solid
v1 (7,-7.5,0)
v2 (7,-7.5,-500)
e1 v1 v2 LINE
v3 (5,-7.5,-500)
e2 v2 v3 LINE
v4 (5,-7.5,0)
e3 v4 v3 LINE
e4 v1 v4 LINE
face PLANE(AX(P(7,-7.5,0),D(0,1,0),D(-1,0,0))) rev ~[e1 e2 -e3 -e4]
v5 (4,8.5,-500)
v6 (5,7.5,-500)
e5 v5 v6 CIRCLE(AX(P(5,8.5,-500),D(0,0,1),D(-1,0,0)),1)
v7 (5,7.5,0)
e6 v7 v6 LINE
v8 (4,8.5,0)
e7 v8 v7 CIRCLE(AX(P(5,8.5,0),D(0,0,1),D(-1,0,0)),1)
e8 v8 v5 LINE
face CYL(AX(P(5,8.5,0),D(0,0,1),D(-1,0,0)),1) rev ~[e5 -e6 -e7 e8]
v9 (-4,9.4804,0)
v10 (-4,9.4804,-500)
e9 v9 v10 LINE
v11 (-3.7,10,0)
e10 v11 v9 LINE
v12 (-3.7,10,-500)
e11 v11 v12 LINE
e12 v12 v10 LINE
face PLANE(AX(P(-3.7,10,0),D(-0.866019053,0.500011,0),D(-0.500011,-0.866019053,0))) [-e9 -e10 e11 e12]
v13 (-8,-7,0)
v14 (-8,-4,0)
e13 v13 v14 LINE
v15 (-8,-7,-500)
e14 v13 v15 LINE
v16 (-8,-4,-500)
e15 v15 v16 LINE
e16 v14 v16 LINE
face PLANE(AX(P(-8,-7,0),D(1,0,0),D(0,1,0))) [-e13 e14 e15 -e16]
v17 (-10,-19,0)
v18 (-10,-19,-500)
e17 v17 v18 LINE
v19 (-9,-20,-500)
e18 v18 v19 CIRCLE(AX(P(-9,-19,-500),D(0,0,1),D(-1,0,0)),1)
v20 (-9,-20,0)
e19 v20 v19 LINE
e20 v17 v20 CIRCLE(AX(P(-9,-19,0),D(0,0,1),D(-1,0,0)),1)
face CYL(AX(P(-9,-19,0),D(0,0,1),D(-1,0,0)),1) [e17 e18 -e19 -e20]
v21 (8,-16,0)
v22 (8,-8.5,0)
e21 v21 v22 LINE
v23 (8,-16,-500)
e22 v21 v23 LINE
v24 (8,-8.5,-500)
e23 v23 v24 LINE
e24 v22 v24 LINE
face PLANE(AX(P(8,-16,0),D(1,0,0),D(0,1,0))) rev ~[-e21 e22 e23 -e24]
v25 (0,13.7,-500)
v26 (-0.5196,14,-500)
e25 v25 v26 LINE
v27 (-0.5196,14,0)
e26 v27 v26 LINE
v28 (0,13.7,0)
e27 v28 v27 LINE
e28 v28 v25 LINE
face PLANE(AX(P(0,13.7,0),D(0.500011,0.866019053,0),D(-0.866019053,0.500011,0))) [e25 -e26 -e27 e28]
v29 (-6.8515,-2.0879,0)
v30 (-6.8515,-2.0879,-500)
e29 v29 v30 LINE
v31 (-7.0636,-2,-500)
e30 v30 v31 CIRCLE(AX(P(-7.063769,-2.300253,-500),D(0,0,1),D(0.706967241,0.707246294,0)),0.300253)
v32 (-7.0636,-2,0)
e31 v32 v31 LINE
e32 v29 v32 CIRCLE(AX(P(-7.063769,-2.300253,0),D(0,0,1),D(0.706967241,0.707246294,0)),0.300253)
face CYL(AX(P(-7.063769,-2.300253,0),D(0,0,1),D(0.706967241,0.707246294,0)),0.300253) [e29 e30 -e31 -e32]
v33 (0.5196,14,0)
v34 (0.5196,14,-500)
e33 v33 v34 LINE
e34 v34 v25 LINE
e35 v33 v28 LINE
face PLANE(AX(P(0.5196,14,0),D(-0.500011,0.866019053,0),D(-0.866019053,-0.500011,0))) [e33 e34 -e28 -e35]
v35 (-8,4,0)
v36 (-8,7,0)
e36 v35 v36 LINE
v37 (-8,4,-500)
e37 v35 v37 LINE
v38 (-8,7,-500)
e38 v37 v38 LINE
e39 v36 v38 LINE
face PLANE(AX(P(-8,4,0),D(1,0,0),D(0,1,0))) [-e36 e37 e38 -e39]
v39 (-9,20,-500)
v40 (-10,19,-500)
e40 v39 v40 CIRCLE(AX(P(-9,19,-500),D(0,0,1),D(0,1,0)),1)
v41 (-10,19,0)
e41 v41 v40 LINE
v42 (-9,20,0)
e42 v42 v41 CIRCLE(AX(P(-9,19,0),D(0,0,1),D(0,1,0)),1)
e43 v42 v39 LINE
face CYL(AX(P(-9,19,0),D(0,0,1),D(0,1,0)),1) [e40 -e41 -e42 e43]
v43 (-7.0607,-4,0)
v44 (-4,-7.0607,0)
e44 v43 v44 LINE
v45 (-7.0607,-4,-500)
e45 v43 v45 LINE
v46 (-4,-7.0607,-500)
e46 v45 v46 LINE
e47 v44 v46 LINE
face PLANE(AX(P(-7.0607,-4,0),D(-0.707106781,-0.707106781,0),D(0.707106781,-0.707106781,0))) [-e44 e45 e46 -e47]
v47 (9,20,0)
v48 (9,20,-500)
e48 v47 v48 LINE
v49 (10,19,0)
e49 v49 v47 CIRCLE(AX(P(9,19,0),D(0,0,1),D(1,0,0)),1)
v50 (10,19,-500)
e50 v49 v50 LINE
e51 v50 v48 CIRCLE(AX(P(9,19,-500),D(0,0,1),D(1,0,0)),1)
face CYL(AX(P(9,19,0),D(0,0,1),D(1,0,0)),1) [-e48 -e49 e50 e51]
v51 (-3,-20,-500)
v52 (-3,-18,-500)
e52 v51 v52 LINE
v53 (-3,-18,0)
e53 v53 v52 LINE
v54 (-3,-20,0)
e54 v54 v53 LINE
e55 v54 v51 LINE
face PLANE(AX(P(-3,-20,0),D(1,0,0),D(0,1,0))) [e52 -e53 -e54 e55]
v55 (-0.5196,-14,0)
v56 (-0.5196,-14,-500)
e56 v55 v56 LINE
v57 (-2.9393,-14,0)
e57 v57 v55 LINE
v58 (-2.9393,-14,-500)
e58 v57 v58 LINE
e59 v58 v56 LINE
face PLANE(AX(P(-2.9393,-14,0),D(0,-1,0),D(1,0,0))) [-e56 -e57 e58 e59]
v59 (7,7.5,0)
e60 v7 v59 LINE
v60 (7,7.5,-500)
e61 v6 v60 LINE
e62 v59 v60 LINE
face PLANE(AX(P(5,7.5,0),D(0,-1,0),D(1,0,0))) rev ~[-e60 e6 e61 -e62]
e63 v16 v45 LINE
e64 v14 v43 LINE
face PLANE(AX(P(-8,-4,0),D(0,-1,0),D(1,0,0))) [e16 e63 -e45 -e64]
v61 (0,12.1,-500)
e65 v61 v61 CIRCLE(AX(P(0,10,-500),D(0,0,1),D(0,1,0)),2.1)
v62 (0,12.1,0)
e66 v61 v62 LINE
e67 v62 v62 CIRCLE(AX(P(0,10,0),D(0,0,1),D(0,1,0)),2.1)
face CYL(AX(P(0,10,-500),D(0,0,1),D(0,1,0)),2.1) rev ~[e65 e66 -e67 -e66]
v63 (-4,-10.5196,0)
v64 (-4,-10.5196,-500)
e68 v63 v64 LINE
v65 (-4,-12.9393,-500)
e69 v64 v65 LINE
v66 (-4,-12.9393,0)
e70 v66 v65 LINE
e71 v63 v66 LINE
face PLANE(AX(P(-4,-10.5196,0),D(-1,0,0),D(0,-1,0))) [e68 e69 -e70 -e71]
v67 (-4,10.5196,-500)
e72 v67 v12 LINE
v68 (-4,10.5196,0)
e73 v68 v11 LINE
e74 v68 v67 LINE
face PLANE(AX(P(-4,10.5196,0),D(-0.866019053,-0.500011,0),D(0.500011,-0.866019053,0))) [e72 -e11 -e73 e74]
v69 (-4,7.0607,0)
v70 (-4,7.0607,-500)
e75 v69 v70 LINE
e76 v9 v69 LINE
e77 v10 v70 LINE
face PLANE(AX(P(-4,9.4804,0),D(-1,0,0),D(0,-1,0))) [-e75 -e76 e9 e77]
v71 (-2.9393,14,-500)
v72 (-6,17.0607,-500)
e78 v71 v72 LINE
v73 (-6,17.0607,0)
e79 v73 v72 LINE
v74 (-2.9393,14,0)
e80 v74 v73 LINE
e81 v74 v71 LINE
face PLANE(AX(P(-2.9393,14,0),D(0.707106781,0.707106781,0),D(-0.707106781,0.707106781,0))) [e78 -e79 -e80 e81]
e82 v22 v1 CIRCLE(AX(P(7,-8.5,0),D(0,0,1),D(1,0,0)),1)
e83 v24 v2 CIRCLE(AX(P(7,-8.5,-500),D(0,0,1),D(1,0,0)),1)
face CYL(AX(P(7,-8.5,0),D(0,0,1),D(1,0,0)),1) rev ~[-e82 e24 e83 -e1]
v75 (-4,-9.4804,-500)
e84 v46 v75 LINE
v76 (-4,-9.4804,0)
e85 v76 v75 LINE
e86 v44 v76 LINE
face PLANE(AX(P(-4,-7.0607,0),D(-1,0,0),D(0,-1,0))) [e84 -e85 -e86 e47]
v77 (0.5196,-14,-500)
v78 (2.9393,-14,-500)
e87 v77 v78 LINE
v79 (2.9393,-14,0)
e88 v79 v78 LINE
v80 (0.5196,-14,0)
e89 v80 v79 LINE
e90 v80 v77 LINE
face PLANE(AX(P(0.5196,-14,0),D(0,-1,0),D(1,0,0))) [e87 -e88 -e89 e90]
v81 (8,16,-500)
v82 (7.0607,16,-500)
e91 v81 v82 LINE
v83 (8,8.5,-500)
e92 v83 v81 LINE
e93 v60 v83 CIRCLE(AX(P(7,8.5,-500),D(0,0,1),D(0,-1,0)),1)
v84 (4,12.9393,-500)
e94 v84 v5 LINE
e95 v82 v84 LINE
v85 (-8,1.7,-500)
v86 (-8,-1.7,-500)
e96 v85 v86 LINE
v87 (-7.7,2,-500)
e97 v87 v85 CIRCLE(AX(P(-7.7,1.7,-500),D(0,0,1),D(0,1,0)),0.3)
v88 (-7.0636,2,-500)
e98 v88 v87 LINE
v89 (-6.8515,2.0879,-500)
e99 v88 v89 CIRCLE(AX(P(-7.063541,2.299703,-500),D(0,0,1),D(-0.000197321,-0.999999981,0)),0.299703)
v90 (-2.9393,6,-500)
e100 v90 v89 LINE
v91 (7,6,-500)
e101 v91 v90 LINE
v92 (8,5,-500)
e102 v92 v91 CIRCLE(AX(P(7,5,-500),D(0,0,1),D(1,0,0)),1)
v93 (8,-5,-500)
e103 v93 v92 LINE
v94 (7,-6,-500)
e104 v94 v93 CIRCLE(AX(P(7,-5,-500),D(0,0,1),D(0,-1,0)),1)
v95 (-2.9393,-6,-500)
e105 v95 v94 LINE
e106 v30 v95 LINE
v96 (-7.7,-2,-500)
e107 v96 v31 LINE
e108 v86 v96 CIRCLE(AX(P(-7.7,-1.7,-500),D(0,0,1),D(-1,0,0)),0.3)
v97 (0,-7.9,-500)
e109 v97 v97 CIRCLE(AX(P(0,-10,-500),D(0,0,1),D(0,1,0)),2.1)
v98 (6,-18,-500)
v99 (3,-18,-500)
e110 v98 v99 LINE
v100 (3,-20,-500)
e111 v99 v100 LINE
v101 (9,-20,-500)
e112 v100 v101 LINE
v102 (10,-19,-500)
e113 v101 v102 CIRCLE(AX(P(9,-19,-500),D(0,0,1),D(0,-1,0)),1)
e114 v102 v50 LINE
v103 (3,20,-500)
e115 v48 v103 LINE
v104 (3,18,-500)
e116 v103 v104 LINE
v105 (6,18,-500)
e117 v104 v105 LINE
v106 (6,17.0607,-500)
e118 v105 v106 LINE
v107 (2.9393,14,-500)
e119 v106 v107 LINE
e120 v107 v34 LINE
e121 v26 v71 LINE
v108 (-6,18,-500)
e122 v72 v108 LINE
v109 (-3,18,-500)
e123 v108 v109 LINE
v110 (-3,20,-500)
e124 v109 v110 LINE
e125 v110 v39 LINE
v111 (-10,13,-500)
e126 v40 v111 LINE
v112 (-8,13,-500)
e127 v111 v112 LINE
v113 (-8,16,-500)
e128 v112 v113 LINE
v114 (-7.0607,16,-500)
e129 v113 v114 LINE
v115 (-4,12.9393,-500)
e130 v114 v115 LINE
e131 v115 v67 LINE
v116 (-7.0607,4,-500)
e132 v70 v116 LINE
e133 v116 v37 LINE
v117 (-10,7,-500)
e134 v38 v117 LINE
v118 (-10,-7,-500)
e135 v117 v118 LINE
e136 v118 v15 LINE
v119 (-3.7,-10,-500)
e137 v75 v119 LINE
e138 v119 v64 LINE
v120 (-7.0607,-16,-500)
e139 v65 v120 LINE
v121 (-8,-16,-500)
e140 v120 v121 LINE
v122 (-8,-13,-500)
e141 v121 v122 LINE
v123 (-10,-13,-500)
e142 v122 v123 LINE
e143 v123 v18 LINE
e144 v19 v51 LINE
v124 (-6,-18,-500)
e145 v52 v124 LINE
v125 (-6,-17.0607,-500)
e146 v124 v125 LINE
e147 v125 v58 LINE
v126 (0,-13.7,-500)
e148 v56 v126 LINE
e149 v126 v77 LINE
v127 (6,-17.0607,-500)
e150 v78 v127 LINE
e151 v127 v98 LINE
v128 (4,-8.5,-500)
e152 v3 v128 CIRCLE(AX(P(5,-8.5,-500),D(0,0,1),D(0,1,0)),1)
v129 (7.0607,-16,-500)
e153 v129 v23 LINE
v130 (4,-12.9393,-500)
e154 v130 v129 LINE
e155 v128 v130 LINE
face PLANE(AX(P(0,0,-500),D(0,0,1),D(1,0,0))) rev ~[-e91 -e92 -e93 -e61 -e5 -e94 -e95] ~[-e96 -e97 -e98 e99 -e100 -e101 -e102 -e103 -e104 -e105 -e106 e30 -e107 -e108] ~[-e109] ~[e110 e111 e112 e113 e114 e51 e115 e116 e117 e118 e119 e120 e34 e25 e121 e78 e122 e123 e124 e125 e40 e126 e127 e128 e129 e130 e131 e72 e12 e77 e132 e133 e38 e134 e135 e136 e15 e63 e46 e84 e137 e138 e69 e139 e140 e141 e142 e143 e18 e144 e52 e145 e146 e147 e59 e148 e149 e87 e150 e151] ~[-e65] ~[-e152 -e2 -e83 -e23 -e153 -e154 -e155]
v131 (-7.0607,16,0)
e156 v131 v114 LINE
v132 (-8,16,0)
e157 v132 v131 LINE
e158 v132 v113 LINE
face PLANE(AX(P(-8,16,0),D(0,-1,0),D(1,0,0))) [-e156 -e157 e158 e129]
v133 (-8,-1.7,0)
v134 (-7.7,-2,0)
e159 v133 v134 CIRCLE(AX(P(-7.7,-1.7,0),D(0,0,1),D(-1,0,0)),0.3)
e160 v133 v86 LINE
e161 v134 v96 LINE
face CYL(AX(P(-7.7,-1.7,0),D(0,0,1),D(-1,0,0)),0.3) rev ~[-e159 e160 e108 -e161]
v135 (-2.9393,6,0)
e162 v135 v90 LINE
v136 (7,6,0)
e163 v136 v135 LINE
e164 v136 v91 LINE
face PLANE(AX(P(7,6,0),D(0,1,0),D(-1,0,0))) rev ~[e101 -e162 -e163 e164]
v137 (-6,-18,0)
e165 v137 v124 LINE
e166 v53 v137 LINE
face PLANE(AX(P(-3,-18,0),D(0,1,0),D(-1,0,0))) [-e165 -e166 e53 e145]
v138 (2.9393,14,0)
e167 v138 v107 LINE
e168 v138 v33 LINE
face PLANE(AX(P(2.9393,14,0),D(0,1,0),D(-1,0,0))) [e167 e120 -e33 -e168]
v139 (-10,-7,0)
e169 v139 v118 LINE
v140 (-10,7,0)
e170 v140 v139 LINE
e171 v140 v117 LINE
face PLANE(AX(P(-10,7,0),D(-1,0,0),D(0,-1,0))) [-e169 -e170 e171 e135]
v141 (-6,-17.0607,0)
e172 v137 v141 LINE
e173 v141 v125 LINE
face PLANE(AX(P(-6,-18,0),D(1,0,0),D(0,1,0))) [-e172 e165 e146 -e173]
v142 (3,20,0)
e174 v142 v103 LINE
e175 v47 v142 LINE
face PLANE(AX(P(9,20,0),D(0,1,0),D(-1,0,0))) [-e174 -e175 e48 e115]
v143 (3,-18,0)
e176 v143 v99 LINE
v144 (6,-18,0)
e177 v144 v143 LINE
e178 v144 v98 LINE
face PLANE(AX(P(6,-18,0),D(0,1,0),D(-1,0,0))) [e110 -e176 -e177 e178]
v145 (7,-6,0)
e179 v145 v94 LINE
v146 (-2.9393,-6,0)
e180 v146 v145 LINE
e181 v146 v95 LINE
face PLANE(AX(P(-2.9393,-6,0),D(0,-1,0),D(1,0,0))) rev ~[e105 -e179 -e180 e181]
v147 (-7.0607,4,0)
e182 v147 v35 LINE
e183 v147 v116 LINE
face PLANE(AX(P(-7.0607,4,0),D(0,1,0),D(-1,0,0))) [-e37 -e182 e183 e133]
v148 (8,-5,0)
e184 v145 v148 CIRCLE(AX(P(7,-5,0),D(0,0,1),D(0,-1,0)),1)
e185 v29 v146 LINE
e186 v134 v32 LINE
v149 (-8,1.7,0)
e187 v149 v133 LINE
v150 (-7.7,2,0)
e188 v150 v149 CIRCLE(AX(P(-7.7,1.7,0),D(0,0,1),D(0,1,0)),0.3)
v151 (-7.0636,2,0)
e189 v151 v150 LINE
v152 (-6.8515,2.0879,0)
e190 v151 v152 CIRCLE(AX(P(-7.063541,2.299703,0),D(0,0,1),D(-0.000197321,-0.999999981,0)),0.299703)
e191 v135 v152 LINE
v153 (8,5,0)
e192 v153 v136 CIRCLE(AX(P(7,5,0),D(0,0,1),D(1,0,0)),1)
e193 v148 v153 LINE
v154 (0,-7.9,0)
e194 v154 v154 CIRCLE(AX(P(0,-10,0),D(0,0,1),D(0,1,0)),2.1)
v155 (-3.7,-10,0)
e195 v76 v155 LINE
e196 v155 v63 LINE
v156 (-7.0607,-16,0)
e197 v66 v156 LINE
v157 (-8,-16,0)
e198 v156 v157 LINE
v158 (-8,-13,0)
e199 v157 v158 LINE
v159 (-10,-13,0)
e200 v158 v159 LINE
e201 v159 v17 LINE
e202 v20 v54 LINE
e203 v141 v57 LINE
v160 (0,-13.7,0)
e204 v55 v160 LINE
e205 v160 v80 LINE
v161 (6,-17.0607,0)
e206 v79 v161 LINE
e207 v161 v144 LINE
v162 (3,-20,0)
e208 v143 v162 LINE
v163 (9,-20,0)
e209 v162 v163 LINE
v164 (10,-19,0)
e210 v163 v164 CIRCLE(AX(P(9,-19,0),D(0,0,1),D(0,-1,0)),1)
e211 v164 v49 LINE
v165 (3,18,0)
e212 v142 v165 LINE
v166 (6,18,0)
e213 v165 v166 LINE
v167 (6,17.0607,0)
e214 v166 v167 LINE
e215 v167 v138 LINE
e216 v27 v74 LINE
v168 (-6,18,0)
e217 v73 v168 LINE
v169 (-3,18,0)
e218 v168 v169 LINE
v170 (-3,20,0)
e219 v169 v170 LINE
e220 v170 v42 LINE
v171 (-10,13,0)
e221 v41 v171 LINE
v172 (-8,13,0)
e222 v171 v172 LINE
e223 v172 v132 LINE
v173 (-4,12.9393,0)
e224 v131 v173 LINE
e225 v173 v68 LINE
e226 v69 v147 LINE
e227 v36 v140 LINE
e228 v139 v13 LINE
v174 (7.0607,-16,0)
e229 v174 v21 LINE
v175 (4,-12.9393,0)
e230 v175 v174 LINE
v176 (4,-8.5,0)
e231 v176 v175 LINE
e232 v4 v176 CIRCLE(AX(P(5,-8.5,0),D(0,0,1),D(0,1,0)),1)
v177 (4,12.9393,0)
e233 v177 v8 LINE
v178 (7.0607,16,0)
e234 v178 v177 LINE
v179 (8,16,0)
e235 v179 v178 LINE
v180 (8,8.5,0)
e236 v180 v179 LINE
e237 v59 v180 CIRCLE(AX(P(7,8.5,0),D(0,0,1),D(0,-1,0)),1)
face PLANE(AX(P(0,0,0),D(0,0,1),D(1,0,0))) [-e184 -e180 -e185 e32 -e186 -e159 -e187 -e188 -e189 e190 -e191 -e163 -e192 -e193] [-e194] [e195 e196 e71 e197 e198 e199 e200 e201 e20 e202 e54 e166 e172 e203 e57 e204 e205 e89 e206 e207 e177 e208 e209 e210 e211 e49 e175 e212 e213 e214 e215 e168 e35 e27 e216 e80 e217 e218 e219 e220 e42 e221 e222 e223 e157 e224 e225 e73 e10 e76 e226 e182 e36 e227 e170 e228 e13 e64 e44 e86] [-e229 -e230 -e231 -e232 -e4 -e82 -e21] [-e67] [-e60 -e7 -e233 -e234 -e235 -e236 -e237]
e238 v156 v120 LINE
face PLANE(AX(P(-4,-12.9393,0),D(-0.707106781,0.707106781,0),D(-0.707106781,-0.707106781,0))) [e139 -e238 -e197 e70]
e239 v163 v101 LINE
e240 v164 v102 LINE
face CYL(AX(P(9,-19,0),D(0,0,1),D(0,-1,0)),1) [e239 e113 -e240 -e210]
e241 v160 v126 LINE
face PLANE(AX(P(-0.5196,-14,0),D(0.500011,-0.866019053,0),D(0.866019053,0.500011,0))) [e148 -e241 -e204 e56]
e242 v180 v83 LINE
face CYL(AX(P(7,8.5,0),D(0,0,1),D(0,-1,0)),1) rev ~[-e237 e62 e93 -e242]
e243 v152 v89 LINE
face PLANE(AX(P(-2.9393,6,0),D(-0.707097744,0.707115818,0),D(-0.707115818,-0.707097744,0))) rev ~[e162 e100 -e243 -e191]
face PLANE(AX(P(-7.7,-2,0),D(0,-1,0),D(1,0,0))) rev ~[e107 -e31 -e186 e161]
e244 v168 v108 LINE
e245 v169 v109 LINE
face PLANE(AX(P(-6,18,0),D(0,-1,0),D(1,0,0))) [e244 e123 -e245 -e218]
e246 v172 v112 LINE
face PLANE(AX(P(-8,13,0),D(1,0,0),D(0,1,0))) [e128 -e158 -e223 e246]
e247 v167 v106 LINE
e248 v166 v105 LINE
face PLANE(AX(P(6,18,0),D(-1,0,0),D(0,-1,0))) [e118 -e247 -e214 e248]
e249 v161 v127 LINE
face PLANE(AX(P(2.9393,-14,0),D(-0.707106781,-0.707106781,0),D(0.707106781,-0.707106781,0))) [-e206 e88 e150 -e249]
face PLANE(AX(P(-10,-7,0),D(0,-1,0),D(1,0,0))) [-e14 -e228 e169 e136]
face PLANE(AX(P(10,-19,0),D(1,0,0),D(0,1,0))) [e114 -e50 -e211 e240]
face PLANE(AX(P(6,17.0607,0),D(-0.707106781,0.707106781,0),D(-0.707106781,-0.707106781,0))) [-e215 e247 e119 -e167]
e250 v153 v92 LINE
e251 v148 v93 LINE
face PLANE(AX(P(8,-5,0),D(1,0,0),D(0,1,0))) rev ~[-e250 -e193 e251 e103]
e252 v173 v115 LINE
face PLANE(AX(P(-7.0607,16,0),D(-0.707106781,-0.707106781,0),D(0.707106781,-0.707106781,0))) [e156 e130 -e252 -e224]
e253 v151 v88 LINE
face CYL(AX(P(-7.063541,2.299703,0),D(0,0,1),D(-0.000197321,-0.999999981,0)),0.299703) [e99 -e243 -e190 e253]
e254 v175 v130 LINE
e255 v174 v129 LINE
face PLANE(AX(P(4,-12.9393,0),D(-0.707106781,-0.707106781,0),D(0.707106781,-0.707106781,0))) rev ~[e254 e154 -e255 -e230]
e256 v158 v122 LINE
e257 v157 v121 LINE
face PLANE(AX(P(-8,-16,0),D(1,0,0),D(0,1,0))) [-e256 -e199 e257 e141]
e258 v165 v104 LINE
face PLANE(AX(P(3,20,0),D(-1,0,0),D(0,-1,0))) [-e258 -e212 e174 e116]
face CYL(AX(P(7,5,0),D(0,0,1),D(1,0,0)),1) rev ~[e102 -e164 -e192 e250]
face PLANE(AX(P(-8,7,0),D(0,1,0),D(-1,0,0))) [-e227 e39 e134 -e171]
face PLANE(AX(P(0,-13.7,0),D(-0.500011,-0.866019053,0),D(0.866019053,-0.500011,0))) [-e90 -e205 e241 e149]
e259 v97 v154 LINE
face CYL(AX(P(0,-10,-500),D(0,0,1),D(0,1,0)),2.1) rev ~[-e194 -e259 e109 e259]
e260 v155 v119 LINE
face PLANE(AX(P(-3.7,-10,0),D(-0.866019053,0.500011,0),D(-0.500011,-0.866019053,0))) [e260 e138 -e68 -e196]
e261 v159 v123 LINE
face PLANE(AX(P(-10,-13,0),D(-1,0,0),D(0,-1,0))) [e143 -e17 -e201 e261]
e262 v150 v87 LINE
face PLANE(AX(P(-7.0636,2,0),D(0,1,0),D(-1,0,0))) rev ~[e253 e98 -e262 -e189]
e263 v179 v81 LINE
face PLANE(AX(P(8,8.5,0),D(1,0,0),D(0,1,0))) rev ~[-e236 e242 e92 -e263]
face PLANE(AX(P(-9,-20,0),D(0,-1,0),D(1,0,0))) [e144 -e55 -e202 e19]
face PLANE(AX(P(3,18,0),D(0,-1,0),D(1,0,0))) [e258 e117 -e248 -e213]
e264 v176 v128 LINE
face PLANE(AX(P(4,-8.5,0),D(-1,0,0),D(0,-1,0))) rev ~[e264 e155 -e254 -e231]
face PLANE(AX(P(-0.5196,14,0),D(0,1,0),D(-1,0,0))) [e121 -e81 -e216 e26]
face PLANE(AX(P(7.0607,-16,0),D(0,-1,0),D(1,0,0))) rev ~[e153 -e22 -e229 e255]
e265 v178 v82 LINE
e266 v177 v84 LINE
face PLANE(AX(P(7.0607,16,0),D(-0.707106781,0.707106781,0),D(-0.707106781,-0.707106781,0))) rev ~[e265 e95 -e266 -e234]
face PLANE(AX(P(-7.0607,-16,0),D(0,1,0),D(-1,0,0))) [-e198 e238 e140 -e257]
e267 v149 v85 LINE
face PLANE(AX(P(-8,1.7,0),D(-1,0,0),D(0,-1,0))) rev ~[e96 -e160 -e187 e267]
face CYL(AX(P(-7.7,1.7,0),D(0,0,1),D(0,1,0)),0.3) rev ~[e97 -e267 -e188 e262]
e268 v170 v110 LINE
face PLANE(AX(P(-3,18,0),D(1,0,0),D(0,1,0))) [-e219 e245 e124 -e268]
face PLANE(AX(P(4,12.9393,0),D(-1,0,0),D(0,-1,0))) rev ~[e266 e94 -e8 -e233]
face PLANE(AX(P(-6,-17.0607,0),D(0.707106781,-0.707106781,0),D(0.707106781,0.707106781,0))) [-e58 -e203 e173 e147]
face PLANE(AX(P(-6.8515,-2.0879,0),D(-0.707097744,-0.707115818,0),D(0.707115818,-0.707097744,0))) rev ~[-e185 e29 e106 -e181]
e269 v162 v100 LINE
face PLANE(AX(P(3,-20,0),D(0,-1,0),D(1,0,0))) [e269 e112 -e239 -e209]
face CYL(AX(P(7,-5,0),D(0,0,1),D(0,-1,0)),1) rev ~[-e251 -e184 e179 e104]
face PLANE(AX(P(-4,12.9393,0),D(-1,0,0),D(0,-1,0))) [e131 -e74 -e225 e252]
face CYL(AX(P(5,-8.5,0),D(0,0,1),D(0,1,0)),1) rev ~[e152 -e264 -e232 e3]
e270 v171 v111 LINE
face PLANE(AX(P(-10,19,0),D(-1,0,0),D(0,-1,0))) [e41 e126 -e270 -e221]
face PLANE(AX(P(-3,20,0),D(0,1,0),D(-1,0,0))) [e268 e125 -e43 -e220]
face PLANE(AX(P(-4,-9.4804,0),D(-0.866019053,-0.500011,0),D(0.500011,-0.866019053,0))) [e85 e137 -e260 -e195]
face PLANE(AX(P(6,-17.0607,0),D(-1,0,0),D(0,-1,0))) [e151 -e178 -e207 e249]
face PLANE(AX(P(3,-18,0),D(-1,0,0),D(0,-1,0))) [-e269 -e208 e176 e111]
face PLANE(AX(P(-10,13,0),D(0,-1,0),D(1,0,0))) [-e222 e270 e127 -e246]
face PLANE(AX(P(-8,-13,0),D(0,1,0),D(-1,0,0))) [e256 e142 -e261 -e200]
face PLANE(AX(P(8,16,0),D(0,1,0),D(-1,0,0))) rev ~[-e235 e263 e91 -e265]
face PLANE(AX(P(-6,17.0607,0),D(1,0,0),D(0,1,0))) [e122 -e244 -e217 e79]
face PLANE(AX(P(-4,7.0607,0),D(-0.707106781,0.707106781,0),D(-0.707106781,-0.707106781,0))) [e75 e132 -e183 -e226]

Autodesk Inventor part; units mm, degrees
sketch "Sketch_63" plane through (0, 0, 0) normal (0, 0, 1) x (1, 0, 0)
  line L0 (-10, -7) -> (-8, -7)
  line L1 (-8, -7) -> (-8, -4)
  line L2 (-8, -4) -> (-7.0607, -4)
  line L3 (-7.0607, -4) -> (-4, -7.0607)
  line L4 (-4, -7.0607) -> (-4, -9.4804)
  line L5 (-4, -9.4804) -> (-3.7, -10)
  line L6 (-3.7, -10) -> (-4, -10.5196)
  line L7 (-4, -10.5196) -> (-4, -12.9393)
  line L8 (-4, -12.9393) -> (-7.0607, -16)
  line L9 (-7.0607, -16) -> (-8, -16)
  line L10 (-8, -16) -> (-8, -13)
  line L11 (-8, -13) -> (-10, -13)
  line L12 (-10, -13) -> (-10, -19)
  arc A0 (-10, -19) -> (-9, -20) centre (-9, -19) ccw
  line L13 (-9, -20) -> (-3, -20)
  line L14 (-3, -20) -> (-3, -18)
  line L15 (-3, -18) -> (-6, -18)
  line L16 (-6, -18) -> (-6, -17.0607)
  line L17 (-6, -17.0607) -> (-2.9393, -14)
  line L18 (-2.9393, -14) -> (-0.5196, -14)
  line L19 (-0.5196, -14) -> (0, -13.7)
  line L20 (0, -13.7) -> (0.5196, -14)
  line L21 (0.5196, -14) -> (2.9393, -14)
  line L22 (2.9393, -14) -> (6, -17.0607)
  line L23 (6, -17.0607) -> (6, -18)
  line L24 (6, -18) -> (3, -18)
  line L25 (3, -18) -> (3, -20)
  line L26 (3, -20) -> (9, -20)
  arc A1 (9, -20) -> (10, -19) centre (9, -19) ccw
  line L27 (10, -19) -> (10, 19)
  arc A2 (10, 19) -> (9, 20) centre (9, 19) ccw
  line L28 (9, 20) -> (3, 20)
  line L29 (3, 20) -> (3, 18)
  line L30 (3, 18) -> (6, 18)
  line L31 (6, 18) -> (6, 17.0607)
  line L32 (6, 17.0607) -> (2.9393, 14)
  line L33 (2.9393, 14) -> (0.5196, 14)
  line L34 (0.5196, 14) -> (0, 13.7)
  line L35 (0, 13.7) -> (-0.5196, 14)
  line L36 (-0.5196, 14) -> (-2.9393, 14)
  line L37 (-2.9393, 14) -> (-6, 17.0607)
  line L38 (-6, 17.0607) -> (-6, 18)
  line L39 (-6, 18) -> (-3, 18)
  line L40 (-3, 18) -> (-3, 20)
  line L41 (-3, 20) -> (-9, 20)
  arc A3 (-9, 20) -> (-10, 19) centre (-9, 19) ccw
  line L42 (-10, 19) -> (-10, 13)
  line L43 (-10, 13) -> (-8, 13)
  line L44 (-8, 13) -> (-8, 16)
  line L45 (-8, 16) -> (-7.0607, 16)
  line L46 (-7.0607, 16) -> (-4, 12.9393)
  line L47 (-4, 12.9393) -> (-4, 10.5196)
  line L48 (-4, 10.5196) -> (-3.7, 10)
  line L49 (-3.7, 10) -> (-4, 9.4804)
  line L50 (-4, 9.4804) -> (-4, 7.0607)
  line L51 (-4, 7.0607) -> (-7.0607, 4)
  line L52 (-7.0607, 4) -> (-8, 4)
  line L53 (-8, 4) -> (-8, 7)
  line L54 (-8, 7) -> (-10, 7)
  line L55 (-10, 7) -> (-10, -7)
  line L56 (4, 12.9393) -> (4, 8.5)
  arc A4 (4, 8.5) -> (5, 7.5) centre (5, 8.5) ccw
  line L57 (5, 7.5) -> (7, 7.5)
  arc A5 (7, 7.5) -> (8, 8.5) centre (7, 8.5) ccw
  line L58 (8, 8.5) -> (8, 16)
  line L59 (8, 16) -> (7.0607, 16)
  line L60 (7.0607, 16) -> (4, 12.9393)
  line L61 (4, -12.9393) -> (7.0607, -16)
  line L62 (7.0607, -16) -> (8, -16)
  line L63 (8, -16) -> (8, -8.5)
  arc A6 (8, -8.5) -> (7, -7.5) centre (7, -8.5) ccw
  line L64 (7, -7.5) -> (5, -7.5)
  arc A7 (5, -7.5) -> (4, -8.5) centre (5, -8.5) ccw
  line L65 (4, -8.5) -> (4, -12.9393)
  line L66 (-8, 1.7) -> (-8, -1.7)
  arc A8 (-8, -1.7) -> (-7.7, -2) centre (-7.7, -1.7) ccw
  line L67 (-7.7, -2) -> (-7.0636, -2)
  arc A9 (-6.8515, -2.0879) -> (-7.0636, -2) centre (-7.0636, -2.3) ccw
  line L68 (-6.8515, -2.0879) -> (-2.9393, -6)
  line L69 (-2.9393, -6) -> (7, -6)
  arc A10 (7, -6) -> (8, -5) centre (7, -5) ccw
  line L70 (8, -5) -> (8, 5)
  arc A11 (8, 5) -> (7, 6) centre (7, 5) ccw
  line L71 (7, 6) -> (-2.9393, 6)
  line L72 (-2.9393, 6) -> (-6.8515, 2.0879)
  arc A12 (-7.0636, 2) -> (-6.8515, 2.0879) centre (-7.0636, 2.3) ccw
  line L73 (-7.0636, 2) -> (-7.7, 2)
  arc A13 (-7.7, 2) -> (-8, 1.7) centre (-7.7, 1.7) ccw
extrude "Extrusion1" add sketch "Sketch_63" against normal blind 500
sketch "Sketch2" plane through (0, 0, -500) normal (0, 0, -1) x (-1, 0, 0)
  point P0 (0, 10)
hole "Hole1" at (0, 10, -500) direction (0, 0, 1) diameter 4.2 end through all
pattern_linear "Rectangular Pattern1" count 2 spacing 20 along (0, -1, 0) of "Hole1"
ref_plane "C1_XY" through (0, 0, 0) normal (0, 0, 1) x (1, 0, 0)
ref_plane "C1_YZ" through (0, 0, 0) normal (1, 0, 0) x (0, 1, 0)
ref_plane "C1_ZX" through (0, 0, 0) normal (0, 1, 0) x (0, 0, 1)
thread "Thread1" size "M5x0.8" class "6H" standard "ANSI Metric M Profile" length 10
thread "Thread2" size "M5x0.8" class "6H" standard "ANSI Metric M Profile" length 10
thread "Thread3" size "M5x0.8" class "6H" standard "ANSI Metric M Profile" length 10
thread "Thread4" size "M4.5x0.75" class "6H" standard "ANSI Metric M Profile" length 10
properties part number "HFSF5-2040-500" material "Aluminum 6061"
